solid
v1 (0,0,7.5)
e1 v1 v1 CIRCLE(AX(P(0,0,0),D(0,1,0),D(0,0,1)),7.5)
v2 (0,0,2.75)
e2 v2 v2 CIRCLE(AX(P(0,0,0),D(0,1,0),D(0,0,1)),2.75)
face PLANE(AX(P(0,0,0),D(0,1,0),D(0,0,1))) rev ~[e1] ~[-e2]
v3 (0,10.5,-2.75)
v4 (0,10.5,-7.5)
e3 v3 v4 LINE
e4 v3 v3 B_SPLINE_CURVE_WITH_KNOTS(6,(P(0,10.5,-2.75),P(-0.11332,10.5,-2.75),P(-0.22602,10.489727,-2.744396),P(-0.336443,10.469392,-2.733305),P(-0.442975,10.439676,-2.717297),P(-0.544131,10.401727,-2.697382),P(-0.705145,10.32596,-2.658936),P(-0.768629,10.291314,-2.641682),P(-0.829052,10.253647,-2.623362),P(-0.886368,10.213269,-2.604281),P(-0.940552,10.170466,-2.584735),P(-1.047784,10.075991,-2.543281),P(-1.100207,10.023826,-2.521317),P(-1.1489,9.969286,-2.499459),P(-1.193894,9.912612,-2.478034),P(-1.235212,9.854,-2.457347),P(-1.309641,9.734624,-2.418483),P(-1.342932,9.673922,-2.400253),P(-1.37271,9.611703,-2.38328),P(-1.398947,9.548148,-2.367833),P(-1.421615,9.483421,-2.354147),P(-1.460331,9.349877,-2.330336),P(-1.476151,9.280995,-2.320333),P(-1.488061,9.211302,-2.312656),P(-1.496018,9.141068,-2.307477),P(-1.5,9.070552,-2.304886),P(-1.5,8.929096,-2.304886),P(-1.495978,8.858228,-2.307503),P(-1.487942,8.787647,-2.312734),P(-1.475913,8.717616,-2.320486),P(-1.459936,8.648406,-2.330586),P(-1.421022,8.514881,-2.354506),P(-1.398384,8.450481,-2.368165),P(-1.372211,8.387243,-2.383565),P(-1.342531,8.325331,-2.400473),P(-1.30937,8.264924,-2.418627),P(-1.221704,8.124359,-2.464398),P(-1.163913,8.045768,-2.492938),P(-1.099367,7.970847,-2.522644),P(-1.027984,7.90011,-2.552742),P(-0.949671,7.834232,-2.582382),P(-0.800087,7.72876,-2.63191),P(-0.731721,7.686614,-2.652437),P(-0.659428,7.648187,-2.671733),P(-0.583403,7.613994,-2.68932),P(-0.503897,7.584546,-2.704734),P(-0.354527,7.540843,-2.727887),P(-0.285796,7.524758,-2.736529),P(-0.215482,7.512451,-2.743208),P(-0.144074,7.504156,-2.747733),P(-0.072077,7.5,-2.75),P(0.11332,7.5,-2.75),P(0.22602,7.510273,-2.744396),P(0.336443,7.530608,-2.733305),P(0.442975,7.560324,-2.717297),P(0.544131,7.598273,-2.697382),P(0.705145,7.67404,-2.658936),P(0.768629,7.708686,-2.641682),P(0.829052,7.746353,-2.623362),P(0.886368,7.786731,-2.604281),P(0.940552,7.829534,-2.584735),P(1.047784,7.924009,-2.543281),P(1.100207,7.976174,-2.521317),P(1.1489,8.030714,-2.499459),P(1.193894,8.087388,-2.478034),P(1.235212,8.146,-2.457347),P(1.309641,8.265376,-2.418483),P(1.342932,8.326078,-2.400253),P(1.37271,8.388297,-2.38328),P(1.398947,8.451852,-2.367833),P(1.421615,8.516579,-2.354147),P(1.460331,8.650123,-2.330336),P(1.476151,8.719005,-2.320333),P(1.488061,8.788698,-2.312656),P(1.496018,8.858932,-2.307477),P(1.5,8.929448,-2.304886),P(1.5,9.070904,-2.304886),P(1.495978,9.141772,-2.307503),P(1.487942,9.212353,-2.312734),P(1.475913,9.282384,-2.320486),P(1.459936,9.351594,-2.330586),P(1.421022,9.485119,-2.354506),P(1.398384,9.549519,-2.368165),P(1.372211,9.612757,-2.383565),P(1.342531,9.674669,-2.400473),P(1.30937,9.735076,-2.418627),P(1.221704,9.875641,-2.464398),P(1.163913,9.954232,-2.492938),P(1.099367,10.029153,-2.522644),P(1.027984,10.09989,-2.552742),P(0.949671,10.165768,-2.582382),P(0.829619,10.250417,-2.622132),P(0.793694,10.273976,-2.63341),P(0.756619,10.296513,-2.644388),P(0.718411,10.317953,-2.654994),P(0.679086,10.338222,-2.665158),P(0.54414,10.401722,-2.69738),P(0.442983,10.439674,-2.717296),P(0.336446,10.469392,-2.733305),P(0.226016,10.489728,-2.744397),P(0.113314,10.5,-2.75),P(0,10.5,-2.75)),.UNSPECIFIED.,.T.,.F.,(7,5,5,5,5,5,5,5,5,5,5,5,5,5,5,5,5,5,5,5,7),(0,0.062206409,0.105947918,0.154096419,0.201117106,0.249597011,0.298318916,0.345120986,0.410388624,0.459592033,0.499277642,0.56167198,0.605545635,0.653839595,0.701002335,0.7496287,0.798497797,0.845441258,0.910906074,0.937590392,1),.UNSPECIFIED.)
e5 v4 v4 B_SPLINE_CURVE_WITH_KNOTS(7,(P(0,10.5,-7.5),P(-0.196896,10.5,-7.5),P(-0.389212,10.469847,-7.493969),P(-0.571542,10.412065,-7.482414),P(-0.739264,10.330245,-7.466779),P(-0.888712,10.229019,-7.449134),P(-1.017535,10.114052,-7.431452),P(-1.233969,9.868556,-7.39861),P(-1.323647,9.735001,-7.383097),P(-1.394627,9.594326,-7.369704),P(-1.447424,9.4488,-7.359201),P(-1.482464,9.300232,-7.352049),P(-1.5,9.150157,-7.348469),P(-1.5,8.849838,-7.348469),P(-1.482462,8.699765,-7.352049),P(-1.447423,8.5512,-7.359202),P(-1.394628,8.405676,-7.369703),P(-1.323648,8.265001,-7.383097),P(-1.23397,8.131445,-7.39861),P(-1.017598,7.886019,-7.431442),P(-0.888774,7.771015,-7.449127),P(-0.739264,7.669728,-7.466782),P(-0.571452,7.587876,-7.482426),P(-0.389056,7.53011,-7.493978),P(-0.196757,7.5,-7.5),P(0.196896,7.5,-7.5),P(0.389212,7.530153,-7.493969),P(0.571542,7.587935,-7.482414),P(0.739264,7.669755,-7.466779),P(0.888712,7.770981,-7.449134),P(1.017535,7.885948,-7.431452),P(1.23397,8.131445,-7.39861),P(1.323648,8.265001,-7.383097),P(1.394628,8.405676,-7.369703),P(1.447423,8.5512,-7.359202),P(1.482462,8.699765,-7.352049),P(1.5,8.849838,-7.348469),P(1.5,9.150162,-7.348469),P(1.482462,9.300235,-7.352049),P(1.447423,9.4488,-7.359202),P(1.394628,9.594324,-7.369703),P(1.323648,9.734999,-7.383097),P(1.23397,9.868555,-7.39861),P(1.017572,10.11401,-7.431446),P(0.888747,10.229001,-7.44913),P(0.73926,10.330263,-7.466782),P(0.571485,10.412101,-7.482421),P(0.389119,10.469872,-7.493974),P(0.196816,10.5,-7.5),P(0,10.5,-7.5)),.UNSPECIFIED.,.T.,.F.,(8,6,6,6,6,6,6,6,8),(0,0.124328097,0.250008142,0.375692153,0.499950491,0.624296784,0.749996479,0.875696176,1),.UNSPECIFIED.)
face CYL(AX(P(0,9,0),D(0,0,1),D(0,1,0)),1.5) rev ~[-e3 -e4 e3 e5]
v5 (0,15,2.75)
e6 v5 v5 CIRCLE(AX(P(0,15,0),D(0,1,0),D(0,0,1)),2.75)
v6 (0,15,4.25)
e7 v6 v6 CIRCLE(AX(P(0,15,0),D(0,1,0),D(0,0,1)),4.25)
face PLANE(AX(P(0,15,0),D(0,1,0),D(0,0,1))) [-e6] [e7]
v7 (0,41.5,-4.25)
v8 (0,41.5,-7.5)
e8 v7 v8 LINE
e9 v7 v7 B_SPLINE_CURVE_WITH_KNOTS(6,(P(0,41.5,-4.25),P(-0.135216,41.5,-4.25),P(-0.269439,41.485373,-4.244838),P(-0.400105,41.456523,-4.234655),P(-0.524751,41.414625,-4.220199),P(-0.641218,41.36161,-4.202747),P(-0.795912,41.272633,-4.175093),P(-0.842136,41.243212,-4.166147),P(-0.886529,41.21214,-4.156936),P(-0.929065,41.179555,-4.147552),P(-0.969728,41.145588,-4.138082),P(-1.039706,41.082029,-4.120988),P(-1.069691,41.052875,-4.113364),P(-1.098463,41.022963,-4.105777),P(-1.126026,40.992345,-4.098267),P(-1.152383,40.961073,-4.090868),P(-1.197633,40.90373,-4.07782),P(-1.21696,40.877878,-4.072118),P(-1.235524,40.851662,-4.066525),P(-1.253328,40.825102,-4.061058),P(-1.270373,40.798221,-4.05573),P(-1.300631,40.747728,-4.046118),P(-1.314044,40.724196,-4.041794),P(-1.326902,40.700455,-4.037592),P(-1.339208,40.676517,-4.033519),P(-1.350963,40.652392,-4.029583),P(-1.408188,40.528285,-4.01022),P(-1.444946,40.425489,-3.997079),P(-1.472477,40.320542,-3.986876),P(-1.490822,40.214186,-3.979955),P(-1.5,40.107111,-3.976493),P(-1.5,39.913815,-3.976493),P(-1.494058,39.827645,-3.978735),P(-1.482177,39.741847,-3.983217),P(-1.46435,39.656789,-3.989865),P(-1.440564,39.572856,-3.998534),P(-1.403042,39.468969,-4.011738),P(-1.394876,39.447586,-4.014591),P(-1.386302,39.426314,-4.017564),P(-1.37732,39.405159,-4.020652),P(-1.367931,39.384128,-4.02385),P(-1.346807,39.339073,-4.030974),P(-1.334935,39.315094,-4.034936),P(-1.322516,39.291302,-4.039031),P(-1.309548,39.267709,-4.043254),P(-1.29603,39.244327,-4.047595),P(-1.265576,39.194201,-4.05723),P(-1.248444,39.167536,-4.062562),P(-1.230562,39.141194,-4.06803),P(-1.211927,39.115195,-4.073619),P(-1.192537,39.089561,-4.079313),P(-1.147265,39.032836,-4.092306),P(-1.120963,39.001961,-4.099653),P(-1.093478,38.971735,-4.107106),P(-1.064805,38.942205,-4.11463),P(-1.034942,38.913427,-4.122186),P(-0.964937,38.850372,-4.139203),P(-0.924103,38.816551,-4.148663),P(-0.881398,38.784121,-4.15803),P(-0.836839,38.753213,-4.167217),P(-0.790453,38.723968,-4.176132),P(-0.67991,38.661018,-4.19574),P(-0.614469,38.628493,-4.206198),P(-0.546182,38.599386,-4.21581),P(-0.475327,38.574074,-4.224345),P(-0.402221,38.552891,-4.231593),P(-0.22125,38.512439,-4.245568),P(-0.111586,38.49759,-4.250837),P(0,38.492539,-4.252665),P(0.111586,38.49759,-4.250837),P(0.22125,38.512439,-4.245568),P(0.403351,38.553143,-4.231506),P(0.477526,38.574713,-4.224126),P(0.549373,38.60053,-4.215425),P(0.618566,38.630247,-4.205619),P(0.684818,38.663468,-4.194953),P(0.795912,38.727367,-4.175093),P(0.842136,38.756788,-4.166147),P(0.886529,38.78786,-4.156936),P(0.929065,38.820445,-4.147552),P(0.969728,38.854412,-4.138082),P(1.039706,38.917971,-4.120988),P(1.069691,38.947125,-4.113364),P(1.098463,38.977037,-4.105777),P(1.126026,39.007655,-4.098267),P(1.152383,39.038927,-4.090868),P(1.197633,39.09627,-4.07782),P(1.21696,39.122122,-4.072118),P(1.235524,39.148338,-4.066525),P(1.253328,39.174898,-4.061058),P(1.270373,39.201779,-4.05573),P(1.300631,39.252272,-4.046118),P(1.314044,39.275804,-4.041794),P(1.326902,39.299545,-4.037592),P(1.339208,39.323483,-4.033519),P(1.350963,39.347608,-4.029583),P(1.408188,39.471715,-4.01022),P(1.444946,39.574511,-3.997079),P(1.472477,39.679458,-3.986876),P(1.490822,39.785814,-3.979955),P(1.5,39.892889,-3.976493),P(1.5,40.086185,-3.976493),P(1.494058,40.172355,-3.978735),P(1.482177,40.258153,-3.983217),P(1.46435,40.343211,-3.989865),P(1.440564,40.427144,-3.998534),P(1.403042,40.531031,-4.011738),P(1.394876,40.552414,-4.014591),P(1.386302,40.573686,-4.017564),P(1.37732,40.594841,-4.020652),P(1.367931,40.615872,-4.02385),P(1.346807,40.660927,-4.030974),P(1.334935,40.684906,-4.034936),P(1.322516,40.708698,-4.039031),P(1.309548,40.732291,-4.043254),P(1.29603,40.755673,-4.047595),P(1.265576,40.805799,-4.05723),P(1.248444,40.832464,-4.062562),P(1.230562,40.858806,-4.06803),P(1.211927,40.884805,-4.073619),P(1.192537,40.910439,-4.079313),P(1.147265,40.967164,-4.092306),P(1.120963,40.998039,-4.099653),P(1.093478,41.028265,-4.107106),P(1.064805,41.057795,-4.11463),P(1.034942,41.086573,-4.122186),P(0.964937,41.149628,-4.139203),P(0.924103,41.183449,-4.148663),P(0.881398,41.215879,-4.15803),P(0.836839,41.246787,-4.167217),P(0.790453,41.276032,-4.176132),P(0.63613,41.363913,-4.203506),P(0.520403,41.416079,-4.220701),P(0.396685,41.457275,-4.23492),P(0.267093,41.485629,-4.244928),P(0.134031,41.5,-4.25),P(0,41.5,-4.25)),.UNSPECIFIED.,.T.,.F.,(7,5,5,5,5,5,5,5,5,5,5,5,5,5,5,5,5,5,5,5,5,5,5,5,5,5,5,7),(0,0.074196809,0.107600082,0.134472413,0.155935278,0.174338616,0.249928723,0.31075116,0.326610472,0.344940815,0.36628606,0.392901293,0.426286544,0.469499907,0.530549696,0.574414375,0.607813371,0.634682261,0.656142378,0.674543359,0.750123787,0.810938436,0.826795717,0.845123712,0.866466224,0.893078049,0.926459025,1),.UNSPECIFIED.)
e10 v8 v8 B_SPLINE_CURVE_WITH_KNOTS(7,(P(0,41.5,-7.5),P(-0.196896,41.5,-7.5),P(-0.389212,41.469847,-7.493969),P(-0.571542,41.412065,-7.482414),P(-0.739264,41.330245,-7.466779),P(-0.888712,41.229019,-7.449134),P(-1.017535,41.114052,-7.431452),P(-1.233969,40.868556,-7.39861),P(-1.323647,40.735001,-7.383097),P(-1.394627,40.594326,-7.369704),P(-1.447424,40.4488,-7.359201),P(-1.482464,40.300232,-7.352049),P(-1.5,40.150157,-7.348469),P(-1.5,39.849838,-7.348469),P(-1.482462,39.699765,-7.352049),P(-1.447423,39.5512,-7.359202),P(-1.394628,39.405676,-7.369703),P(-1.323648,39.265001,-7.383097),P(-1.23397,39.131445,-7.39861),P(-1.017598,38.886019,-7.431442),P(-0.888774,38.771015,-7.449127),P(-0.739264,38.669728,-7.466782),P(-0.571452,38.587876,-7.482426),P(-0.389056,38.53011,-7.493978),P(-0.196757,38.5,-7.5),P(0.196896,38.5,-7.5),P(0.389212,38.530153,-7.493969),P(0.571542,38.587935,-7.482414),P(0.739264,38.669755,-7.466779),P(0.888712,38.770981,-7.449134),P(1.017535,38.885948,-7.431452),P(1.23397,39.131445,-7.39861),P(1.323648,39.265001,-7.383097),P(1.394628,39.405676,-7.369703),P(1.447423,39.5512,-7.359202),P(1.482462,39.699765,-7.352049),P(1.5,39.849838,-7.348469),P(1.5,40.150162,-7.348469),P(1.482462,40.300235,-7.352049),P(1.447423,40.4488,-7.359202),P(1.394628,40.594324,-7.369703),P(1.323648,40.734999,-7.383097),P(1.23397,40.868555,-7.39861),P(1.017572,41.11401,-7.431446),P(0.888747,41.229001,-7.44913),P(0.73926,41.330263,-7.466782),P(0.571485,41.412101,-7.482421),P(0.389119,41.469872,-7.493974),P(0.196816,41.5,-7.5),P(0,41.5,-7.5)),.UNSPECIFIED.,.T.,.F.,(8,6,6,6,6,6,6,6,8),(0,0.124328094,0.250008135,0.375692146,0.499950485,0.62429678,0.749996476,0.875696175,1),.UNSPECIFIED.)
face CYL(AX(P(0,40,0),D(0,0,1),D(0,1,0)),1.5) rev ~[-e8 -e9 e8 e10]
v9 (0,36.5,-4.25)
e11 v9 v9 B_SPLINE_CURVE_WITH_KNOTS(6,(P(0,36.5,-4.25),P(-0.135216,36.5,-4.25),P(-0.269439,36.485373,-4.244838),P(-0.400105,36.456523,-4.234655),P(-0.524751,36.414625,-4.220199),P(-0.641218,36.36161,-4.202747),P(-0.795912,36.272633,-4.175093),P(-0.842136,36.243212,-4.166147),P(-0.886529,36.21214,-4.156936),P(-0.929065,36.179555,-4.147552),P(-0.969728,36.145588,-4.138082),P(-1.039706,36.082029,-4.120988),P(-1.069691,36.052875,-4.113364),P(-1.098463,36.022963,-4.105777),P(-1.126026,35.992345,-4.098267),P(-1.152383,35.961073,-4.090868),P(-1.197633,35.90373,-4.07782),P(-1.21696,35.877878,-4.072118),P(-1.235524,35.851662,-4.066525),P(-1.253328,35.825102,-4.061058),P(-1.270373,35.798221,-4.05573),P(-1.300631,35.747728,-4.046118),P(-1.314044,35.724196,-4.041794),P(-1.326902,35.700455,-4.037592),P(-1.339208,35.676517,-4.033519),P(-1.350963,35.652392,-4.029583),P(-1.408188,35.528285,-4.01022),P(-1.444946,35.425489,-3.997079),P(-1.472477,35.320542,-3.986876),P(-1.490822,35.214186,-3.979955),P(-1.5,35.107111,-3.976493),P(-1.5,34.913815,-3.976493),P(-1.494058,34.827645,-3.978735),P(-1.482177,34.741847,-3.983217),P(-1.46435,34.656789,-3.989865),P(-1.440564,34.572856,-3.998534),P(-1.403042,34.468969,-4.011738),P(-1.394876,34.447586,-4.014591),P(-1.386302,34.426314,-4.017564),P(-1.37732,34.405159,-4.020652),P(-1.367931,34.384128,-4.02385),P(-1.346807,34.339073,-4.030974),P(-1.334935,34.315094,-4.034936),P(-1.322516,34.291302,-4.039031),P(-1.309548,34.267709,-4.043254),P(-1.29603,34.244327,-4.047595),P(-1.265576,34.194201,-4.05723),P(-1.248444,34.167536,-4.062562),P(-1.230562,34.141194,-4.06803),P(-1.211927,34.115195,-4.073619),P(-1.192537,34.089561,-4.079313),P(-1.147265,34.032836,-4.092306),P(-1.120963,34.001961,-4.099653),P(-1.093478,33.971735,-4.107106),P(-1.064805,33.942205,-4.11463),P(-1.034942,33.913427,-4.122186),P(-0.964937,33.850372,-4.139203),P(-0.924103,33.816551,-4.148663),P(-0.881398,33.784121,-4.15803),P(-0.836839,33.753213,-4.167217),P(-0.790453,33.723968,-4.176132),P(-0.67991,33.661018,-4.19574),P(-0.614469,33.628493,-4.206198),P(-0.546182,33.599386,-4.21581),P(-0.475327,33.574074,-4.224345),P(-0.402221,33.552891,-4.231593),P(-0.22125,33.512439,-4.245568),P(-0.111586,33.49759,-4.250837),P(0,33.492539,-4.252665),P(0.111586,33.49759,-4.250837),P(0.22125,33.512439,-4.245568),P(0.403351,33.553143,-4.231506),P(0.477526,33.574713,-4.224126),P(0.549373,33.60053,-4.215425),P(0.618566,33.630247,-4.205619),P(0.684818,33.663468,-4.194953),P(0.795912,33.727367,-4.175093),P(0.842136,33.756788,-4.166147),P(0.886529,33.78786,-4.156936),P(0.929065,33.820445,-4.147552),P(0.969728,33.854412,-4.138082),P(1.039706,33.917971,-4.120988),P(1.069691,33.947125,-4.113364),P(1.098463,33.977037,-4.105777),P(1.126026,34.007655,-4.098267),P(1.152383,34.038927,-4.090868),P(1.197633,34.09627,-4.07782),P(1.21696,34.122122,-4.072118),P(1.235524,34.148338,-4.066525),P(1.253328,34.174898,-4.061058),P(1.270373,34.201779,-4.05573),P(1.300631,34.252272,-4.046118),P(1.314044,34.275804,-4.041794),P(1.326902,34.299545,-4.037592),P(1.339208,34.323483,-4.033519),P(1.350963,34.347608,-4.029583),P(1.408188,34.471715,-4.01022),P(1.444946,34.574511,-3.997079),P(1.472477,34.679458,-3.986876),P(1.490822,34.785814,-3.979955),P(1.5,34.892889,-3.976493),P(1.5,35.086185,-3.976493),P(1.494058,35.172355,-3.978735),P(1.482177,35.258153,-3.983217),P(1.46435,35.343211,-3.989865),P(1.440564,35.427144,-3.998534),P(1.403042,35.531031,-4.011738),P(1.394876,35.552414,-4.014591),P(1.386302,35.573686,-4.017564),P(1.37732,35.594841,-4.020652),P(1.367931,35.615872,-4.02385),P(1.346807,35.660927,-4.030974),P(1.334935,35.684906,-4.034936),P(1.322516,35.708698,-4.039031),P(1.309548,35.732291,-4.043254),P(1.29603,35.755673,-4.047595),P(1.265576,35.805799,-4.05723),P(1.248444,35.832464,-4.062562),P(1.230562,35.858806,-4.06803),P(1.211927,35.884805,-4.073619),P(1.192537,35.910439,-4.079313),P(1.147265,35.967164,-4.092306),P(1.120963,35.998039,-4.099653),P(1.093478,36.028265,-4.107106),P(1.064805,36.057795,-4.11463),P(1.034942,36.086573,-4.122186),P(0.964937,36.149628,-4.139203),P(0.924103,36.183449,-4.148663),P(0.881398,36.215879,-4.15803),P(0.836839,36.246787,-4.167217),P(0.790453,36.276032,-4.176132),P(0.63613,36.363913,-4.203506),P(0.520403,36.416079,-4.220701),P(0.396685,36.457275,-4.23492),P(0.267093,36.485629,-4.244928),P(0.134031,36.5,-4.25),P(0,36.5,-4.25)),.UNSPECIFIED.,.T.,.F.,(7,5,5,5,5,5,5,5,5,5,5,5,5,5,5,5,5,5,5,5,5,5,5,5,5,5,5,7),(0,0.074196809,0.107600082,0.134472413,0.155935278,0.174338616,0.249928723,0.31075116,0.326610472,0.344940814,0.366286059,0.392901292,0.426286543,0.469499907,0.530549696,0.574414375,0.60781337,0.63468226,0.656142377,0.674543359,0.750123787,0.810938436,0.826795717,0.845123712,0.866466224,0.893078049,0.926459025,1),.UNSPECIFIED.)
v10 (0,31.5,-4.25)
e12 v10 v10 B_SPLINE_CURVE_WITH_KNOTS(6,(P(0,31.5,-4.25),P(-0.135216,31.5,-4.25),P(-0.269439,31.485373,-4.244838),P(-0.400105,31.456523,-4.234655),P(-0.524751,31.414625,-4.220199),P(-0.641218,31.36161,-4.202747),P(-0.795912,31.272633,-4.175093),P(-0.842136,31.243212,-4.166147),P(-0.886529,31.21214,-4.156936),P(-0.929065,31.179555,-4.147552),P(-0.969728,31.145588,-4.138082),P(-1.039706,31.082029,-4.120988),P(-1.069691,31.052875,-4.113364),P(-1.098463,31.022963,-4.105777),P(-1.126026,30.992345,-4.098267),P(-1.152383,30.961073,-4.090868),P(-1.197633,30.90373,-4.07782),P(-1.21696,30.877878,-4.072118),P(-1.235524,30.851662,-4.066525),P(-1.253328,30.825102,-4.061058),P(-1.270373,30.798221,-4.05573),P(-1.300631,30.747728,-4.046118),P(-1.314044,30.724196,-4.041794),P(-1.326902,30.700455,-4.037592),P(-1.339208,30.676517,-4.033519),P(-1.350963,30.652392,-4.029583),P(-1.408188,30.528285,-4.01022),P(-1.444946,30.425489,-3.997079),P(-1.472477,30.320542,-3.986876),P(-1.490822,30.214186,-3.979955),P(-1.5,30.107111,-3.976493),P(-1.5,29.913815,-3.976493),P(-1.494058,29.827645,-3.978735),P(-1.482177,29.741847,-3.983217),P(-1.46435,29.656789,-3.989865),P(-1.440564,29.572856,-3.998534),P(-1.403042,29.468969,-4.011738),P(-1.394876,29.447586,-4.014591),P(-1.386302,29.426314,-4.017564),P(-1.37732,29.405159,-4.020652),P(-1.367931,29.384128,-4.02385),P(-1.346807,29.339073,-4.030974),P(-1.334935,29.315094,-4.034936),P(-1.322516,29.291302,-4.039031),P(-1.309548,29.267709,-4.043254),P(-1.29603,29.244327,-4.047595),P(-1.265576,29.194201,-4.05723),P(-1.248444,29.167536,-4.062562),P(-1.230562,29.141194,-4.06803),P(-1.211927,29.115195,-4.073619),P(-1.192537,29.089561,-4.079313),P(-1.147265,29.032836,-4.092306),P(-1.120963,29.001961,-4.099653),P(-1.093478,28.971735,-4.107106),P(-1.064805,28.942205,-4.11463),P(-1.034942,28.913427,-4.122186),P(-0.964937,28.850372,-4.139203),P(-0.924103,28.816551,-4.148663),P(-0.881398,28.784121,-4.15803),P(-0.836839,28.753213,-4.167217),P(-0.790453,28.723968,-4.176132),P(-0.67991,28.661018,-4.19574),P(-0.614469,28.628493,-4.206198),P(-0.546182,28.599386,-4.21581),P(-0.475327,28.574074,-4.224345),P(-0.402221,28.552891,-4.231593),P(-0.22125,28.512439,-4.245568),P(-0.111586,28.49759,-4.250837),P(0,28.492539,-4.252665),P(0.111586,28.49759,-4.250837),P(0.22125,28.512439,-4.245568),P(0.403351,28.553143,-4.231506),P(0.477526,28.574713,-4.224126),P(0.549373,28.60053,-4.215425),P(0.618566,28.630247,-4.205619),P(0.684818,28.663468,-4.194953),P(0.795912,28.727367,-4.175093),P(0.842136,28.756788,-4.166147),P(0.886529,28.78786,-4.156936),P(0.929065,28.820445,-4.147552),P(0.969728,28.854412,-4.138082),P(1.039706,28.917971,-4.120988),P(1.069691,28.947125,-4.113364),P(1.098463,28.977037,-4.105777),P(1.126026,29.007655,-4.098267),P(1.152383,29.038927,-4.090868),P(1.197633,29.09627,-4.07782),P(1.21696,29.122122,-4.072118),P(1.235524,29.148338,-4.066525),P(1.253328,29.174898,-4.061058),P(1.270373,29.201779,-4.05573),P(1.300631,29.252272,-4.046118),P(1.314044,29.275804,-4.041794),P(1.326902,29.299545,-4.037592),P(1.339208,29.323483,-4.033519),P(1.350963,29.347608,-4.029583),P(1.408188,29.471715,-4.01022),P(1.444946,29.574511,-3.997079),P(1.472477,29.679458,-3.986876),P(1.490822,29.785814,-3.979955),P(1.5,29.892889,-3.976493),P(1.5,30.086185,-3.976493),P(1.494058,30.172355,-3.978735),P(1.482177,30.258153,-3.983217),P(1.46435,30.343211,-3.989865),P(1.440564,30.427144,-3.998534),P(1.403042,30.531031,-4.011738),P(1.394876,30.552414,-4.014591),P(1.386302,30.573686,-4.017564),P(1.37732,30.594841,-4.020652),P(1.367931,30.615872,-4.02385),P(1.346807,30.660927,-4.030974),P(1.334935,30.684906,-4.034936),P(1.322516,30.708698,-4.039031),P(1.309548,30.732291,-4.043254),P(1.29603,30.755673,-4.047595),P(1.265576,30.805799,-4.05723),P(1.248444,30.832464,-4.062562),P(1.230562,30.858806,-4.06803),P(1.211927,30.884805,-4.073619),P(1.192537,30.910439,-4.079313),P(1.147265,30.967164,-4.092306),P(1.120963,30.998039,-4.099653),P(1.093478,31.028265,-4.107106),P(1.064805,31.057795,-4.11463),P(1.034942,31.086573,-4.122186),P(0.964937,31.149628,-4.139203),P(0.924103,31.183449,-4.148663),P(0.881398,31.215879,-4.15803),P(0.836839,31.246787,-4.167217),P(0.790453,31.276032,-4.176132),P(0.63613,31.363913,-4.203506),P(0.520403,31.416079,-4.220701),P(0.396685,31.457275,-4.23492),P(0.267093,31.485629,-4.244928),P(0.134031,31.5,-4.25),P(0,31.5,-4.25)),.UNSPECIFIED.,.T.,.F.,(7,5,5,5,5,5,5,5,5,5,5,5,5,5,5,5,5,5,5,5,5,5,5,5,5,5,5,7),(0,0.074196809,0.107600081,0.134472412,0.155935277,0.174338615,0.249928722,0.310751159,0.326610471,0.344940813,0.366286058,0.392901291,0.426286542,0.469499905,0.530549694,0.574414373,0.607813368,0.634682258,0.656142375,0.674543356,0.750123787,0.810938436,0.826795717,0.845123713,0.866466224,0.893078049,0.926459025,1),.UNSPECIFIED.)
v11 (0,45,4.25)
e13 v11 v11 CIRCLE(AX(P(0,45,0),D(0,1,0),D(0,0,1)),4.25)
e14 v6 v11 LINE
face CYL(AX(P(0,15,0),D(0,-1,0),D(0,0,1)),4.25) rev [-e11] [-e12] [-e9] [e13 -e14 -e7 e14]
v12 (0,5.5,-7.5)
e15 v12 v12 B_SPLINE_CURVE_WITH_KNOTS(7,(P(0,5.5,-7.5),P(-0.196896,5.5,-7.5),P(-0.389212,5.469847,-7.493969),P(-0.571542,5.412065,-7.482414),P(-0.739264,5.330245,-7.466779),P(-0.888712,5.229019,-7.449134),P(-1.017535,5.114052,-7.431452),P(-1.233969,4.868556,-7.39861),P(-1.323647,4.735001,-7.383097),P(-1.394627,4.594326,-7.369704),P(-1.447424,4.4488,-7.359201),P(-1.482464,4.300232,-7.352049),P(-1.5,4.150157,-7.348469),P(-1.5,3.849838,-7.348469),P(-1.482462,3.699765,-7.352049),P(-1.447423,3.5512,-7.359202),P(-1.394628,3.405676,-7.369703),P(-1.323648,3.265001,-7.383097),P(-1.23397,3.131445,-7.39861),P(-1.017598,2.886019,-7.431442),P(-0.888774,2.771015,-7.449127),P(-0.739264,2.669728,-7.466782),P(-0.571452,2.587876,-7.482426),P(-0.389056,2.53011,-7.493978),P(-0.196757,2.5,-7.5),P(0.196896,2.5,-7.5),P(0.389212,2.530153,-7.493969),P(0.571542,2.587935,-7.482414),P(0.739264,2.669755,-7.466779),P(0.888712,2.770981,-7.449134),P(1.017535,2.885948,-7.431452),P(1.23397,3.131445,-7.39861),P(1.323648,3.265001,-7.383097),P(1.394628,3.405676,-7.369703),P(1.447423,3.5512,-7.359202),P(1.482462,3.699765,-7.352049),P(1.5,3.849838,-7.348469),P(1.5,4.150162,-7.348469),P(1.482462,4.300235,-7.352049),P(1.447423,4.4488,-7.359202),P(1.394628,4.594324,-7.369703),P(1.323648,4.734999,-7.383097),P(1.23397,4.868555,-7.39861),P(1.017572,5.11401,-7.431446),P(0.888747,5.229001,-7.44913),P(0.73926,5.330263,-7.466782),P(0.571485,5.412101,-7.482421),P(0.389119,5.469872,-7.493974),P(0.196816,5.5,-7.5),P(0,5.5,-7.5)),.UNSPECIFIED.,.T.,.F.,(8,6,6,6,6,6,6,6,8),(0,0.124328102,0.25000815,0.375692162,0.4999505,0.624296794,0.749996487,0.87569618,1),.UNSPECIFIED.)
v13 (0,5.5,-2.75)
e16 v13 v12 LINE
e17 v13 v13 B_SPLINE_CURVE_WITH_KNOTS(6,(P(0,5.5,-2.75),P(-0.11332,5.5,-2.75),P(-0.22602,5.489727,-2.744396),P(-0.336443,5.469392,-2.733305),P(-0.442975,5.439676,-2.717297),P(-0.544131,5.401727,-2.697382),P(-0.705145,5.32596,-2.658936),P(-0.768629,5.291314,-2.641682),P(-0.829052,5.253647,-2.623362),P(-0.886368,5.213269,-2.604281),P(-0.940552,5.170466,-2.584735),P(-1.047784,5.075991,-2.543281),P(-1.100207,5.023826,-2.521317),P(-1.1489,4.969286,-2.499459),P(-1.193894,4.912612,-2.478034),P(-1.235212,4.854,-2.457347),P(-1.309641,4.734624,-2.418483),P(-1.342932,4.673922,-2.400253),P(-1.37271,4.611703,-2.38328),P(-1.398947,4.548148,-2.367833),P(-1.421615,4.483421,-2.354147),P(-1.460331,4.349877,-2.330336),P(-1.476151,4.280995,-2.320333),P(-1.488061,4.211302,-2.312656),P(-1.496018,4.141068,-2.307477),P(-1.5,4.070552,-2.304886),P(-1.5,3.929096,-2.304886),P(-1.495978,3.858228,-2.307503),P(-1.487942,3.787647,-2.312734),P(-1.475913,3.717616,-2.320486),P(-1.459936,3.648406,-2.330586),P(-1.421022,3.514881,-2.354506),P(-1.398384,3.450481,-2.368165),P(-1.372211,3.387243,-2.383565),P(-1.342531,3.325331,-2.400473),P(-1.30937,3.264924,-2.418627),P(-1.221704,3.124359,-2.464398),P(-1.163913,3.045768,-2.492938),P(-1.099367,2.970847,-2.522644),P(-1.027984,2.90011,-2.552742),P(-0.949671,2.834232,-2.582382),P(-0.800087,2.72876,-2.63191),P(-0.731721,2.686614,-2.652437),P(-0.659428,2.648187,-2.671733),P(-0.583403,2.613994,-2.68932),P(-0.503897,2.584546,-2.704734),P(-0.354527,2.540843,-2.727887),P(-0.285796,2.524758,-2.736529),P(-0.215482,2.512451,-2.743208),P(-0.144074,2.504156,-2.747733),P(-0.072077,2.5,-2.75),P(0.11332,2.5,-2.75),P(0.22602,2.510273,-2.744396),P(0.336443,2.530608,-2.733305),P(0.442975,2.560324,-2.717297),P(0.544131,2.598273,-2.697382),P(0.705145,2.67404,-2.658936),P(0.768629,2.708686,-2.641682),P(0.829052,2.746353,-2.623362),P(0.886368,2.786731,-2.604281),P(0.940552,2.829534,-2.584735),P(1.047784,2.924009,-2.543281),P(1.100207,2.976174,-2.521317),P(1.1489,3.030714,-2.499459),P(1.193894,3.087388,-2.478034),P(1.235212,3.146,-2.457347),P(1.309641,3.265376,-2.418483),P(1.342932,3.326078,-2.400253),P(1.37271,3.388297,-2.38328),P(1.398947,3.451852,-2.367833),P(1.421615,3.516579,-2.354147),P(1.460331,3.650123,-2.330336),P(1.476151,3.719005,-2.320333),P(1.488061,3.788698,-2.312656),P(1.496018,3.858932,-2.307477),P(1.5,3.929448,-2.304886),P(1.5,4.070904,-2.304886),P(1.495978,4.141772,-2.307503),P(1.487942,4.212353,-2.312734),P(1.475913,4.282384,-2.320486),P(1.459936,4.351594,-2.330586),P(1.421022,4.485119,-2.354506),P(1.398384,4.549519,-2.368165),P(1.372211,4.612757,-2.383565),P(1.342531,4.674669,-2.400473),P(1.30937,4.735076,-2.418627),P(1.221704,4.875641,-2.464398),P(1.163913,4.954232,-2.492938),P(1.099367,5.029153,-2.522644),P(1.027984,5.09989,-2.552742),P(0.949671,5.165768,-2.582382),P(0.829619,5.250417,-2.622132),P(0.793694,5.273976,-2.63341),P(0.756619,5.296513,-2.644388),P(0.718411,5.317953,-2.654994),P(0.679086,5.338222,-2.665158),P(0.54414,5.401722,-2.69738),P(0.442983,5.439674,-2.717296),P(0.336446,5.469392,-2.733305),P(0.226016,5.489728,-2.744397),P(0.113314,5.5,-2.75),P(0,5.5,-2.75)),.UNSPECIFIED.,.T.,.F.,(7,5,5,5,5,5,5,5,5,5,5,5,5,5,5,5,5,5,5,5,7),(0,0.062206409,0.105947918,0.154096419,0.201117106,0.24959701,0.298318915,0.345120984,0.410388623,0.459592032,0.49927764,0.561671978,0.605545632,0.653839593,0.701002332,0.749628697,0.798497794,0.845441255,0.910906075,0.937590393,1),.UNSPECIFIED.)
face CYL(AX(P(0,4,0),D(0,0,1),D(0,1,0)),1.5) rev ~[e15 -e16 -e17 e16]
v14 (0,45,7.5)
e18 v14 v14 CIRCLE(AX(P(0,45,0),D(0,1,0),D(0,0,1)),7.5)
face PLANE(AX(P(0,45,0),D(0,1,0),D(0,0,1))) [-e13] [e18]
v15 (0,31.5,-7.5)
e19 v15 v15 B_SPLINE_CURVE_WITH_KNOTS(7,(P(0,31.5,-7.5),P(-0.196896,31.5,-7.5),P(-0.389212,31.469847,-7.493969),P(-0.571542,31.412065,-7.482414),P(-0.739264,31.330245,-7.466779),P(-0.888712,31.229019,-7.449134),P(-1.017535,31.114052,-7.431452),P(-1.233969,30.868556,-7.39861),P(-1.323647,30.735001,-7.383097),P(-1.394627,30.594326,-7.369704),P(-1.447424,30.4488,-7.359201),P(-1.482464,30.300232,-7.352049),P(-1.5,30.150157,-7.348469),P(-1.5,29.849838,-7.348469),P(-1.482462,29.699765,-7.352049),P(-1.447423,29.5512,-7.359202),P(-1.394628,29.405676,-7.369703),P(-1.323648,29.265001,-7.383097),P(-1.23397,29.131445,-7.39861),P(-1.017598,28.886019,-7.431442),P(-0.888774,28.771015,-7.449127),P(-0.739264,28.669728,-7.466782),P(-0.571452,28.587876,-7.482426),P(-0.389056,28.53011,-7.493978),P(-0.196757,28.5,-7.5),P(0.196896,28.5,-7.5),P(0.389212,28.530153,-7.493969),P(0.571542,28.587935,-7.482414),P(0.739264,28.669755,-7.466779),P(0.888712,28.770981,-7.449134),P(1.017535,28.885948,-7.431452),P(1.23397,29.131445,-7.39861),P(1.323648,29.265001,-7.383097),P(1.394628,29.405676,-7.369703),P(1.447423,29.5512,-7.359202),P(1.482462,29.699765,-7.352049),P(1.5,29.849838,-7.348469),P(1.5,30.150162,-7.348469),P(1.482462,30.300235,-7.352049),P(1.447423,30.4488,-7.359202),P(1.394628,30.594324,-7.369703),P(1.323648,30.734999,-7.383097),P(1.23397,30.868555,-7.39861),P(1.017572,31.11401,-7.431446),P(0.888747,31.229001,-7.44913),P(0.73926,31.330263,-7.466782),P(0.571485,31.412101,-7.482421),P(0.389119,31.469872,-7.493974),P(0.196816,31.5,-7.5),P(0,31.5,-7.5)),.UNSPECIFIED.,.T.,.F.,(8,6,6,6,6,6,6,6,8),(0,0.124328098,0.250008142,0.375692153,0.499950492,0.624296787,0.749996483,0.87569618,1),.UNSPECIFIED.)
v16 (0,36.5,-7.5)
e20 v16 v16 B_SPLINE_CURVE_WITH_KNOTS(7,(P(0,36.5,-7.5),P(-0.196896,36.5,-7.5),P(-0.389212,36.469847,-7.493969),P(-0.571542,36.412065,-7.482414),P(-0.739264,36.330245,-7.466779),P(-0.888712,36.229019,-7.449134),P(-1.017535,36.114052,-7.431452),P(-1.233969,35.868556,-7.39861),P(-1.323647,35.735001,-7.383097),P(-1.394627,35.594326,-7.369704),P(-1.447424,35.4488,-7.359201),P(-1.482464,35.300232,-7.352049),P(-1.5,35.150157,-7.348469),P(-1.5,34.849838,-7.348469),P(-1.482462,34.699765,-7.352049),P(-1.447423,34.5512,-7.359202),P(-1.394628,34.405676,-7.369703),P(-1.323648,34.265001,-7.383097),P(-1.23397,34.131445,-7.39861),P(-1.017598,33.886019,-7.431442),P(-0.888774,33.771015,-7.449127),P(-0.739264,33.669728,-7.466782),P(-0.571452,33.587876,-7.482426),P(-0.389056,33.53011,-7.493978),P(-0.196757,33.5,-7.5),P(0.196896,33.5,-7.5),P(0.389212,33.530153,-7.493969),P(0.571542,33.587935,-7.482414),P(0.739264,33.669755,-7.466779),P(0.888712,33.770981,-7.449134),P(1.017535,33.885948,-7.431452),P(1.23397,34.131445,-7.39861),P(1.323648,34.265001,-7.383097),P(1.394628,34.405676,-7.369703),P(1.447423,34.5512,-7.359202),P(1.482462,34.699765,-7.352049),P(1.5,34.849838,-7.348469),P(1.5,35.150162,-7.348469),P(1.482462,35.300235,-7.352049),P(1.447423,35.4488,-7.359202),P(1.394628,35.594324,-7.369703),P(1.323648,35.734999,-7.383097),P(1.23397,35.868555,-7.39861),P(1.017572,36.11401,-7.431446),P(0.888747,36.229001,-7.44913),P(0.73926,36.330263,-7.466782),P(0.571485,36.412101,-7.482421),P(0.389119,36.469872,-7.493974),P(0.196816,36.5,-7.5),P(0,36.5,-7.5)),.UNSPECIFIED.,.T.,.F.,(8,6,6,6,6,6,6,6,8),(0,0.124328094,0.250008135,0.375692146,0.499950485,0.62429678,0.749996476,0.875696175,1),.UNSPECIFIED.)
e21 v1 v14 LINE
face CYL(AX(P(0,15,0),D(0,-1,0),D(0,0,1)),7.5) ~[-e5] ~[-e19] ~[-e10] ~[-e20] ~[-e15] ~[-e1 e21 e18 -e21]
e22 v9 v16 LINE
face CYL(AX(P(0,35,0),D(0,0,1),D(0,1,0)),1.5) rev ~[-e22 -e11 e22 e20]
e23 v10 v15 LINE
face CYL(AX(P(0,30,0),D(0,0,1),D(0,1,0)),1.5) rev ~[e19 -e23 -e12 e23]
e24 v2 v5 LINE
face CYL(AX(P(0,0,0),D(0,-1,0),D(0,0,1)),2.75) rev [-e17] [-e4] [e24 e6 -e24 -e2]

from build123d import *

# Parameters (mm, degrees)
IZIM1_R                     = 7.5
IZIM1_R_2                   = 2.75
Y_KSEKLIK_EKSTR_ZYON1_DEPTH = 15
IZIM2_R                     = 7.5
IZIM2_R_2                   = 4.25
Y_KSEKLIK_EKSTR_ZYON2_DEPTH = 30
IZIM3_R                     = 1.5
KES_EKSTR_ZYON1_DEPTH       = 30


with BuildPart() as part:
    # Çizim1 → Yükseklik-Ekstrüzyon1 (new body)
    with BuildSketch(Plane(origin=(0, 0, 0), x_dir=(1, 0, 0), z_dir=(0, 1, 0))):
        with Locations(Location((0, 0, 0), (0, 0, 270))):
            Circle(IZIM1_R)
        with Locations(Location((0, 0, 0), (0, 0, 270))):
            Circle(IZIM1_R_2, mode=Mode.SUBTRACT)
    extrude(amount=Y_KSEKLIK_EKSTR_ZYON1_DEPTH)

    # Çizim2 → Yükseklik-Ekstrüzyon2 (add)
    with BuildSketch(Plane(origin=(0, 15, 0), x_dir=(1, 0, 0), z_dir=(0, 1, 0))):
        with Locations(Location((0, 0, 0), (0, 0, 270))):
            Circle(IZIM2_R)
        with Locations(Location((0, 0, 0), (0, 0, 270))):
            Circle(IZIM2_R_2, mode=Mode.SUBTRACT)
    extrude(amount=Y_KSEKLIK_EKSTR_ZYON2_DEPTH)

    # Çizim3 → Kes-Ekstrüzyon1 (cut)
    with BuildSketch(Plane.XY):
        with Locations(Location((0, 40, 0), (0, 0, 90))):
            Circle(IZIM3_R)
        with Locations(Location((0, 35, 0), (0, 0, 90))):
            Circle(IZIM3_R)
        with Locations(Location((0, 30, 0), (0, 0, 90))):
            Circle(IZIM3_R)
        with Locations(Location((0, 9, 0), (0, 0, 90))):
            Circle(IZIM3_R)
        with Locations(Location((0, 4, 0), (0, 0, 90))):
            Circle(IZIM3_R)
    extrude(amount=-KES_EKSTR_ZYON1_DEPTH, mode=Mode.SUBTRACT)


solid = part.part
